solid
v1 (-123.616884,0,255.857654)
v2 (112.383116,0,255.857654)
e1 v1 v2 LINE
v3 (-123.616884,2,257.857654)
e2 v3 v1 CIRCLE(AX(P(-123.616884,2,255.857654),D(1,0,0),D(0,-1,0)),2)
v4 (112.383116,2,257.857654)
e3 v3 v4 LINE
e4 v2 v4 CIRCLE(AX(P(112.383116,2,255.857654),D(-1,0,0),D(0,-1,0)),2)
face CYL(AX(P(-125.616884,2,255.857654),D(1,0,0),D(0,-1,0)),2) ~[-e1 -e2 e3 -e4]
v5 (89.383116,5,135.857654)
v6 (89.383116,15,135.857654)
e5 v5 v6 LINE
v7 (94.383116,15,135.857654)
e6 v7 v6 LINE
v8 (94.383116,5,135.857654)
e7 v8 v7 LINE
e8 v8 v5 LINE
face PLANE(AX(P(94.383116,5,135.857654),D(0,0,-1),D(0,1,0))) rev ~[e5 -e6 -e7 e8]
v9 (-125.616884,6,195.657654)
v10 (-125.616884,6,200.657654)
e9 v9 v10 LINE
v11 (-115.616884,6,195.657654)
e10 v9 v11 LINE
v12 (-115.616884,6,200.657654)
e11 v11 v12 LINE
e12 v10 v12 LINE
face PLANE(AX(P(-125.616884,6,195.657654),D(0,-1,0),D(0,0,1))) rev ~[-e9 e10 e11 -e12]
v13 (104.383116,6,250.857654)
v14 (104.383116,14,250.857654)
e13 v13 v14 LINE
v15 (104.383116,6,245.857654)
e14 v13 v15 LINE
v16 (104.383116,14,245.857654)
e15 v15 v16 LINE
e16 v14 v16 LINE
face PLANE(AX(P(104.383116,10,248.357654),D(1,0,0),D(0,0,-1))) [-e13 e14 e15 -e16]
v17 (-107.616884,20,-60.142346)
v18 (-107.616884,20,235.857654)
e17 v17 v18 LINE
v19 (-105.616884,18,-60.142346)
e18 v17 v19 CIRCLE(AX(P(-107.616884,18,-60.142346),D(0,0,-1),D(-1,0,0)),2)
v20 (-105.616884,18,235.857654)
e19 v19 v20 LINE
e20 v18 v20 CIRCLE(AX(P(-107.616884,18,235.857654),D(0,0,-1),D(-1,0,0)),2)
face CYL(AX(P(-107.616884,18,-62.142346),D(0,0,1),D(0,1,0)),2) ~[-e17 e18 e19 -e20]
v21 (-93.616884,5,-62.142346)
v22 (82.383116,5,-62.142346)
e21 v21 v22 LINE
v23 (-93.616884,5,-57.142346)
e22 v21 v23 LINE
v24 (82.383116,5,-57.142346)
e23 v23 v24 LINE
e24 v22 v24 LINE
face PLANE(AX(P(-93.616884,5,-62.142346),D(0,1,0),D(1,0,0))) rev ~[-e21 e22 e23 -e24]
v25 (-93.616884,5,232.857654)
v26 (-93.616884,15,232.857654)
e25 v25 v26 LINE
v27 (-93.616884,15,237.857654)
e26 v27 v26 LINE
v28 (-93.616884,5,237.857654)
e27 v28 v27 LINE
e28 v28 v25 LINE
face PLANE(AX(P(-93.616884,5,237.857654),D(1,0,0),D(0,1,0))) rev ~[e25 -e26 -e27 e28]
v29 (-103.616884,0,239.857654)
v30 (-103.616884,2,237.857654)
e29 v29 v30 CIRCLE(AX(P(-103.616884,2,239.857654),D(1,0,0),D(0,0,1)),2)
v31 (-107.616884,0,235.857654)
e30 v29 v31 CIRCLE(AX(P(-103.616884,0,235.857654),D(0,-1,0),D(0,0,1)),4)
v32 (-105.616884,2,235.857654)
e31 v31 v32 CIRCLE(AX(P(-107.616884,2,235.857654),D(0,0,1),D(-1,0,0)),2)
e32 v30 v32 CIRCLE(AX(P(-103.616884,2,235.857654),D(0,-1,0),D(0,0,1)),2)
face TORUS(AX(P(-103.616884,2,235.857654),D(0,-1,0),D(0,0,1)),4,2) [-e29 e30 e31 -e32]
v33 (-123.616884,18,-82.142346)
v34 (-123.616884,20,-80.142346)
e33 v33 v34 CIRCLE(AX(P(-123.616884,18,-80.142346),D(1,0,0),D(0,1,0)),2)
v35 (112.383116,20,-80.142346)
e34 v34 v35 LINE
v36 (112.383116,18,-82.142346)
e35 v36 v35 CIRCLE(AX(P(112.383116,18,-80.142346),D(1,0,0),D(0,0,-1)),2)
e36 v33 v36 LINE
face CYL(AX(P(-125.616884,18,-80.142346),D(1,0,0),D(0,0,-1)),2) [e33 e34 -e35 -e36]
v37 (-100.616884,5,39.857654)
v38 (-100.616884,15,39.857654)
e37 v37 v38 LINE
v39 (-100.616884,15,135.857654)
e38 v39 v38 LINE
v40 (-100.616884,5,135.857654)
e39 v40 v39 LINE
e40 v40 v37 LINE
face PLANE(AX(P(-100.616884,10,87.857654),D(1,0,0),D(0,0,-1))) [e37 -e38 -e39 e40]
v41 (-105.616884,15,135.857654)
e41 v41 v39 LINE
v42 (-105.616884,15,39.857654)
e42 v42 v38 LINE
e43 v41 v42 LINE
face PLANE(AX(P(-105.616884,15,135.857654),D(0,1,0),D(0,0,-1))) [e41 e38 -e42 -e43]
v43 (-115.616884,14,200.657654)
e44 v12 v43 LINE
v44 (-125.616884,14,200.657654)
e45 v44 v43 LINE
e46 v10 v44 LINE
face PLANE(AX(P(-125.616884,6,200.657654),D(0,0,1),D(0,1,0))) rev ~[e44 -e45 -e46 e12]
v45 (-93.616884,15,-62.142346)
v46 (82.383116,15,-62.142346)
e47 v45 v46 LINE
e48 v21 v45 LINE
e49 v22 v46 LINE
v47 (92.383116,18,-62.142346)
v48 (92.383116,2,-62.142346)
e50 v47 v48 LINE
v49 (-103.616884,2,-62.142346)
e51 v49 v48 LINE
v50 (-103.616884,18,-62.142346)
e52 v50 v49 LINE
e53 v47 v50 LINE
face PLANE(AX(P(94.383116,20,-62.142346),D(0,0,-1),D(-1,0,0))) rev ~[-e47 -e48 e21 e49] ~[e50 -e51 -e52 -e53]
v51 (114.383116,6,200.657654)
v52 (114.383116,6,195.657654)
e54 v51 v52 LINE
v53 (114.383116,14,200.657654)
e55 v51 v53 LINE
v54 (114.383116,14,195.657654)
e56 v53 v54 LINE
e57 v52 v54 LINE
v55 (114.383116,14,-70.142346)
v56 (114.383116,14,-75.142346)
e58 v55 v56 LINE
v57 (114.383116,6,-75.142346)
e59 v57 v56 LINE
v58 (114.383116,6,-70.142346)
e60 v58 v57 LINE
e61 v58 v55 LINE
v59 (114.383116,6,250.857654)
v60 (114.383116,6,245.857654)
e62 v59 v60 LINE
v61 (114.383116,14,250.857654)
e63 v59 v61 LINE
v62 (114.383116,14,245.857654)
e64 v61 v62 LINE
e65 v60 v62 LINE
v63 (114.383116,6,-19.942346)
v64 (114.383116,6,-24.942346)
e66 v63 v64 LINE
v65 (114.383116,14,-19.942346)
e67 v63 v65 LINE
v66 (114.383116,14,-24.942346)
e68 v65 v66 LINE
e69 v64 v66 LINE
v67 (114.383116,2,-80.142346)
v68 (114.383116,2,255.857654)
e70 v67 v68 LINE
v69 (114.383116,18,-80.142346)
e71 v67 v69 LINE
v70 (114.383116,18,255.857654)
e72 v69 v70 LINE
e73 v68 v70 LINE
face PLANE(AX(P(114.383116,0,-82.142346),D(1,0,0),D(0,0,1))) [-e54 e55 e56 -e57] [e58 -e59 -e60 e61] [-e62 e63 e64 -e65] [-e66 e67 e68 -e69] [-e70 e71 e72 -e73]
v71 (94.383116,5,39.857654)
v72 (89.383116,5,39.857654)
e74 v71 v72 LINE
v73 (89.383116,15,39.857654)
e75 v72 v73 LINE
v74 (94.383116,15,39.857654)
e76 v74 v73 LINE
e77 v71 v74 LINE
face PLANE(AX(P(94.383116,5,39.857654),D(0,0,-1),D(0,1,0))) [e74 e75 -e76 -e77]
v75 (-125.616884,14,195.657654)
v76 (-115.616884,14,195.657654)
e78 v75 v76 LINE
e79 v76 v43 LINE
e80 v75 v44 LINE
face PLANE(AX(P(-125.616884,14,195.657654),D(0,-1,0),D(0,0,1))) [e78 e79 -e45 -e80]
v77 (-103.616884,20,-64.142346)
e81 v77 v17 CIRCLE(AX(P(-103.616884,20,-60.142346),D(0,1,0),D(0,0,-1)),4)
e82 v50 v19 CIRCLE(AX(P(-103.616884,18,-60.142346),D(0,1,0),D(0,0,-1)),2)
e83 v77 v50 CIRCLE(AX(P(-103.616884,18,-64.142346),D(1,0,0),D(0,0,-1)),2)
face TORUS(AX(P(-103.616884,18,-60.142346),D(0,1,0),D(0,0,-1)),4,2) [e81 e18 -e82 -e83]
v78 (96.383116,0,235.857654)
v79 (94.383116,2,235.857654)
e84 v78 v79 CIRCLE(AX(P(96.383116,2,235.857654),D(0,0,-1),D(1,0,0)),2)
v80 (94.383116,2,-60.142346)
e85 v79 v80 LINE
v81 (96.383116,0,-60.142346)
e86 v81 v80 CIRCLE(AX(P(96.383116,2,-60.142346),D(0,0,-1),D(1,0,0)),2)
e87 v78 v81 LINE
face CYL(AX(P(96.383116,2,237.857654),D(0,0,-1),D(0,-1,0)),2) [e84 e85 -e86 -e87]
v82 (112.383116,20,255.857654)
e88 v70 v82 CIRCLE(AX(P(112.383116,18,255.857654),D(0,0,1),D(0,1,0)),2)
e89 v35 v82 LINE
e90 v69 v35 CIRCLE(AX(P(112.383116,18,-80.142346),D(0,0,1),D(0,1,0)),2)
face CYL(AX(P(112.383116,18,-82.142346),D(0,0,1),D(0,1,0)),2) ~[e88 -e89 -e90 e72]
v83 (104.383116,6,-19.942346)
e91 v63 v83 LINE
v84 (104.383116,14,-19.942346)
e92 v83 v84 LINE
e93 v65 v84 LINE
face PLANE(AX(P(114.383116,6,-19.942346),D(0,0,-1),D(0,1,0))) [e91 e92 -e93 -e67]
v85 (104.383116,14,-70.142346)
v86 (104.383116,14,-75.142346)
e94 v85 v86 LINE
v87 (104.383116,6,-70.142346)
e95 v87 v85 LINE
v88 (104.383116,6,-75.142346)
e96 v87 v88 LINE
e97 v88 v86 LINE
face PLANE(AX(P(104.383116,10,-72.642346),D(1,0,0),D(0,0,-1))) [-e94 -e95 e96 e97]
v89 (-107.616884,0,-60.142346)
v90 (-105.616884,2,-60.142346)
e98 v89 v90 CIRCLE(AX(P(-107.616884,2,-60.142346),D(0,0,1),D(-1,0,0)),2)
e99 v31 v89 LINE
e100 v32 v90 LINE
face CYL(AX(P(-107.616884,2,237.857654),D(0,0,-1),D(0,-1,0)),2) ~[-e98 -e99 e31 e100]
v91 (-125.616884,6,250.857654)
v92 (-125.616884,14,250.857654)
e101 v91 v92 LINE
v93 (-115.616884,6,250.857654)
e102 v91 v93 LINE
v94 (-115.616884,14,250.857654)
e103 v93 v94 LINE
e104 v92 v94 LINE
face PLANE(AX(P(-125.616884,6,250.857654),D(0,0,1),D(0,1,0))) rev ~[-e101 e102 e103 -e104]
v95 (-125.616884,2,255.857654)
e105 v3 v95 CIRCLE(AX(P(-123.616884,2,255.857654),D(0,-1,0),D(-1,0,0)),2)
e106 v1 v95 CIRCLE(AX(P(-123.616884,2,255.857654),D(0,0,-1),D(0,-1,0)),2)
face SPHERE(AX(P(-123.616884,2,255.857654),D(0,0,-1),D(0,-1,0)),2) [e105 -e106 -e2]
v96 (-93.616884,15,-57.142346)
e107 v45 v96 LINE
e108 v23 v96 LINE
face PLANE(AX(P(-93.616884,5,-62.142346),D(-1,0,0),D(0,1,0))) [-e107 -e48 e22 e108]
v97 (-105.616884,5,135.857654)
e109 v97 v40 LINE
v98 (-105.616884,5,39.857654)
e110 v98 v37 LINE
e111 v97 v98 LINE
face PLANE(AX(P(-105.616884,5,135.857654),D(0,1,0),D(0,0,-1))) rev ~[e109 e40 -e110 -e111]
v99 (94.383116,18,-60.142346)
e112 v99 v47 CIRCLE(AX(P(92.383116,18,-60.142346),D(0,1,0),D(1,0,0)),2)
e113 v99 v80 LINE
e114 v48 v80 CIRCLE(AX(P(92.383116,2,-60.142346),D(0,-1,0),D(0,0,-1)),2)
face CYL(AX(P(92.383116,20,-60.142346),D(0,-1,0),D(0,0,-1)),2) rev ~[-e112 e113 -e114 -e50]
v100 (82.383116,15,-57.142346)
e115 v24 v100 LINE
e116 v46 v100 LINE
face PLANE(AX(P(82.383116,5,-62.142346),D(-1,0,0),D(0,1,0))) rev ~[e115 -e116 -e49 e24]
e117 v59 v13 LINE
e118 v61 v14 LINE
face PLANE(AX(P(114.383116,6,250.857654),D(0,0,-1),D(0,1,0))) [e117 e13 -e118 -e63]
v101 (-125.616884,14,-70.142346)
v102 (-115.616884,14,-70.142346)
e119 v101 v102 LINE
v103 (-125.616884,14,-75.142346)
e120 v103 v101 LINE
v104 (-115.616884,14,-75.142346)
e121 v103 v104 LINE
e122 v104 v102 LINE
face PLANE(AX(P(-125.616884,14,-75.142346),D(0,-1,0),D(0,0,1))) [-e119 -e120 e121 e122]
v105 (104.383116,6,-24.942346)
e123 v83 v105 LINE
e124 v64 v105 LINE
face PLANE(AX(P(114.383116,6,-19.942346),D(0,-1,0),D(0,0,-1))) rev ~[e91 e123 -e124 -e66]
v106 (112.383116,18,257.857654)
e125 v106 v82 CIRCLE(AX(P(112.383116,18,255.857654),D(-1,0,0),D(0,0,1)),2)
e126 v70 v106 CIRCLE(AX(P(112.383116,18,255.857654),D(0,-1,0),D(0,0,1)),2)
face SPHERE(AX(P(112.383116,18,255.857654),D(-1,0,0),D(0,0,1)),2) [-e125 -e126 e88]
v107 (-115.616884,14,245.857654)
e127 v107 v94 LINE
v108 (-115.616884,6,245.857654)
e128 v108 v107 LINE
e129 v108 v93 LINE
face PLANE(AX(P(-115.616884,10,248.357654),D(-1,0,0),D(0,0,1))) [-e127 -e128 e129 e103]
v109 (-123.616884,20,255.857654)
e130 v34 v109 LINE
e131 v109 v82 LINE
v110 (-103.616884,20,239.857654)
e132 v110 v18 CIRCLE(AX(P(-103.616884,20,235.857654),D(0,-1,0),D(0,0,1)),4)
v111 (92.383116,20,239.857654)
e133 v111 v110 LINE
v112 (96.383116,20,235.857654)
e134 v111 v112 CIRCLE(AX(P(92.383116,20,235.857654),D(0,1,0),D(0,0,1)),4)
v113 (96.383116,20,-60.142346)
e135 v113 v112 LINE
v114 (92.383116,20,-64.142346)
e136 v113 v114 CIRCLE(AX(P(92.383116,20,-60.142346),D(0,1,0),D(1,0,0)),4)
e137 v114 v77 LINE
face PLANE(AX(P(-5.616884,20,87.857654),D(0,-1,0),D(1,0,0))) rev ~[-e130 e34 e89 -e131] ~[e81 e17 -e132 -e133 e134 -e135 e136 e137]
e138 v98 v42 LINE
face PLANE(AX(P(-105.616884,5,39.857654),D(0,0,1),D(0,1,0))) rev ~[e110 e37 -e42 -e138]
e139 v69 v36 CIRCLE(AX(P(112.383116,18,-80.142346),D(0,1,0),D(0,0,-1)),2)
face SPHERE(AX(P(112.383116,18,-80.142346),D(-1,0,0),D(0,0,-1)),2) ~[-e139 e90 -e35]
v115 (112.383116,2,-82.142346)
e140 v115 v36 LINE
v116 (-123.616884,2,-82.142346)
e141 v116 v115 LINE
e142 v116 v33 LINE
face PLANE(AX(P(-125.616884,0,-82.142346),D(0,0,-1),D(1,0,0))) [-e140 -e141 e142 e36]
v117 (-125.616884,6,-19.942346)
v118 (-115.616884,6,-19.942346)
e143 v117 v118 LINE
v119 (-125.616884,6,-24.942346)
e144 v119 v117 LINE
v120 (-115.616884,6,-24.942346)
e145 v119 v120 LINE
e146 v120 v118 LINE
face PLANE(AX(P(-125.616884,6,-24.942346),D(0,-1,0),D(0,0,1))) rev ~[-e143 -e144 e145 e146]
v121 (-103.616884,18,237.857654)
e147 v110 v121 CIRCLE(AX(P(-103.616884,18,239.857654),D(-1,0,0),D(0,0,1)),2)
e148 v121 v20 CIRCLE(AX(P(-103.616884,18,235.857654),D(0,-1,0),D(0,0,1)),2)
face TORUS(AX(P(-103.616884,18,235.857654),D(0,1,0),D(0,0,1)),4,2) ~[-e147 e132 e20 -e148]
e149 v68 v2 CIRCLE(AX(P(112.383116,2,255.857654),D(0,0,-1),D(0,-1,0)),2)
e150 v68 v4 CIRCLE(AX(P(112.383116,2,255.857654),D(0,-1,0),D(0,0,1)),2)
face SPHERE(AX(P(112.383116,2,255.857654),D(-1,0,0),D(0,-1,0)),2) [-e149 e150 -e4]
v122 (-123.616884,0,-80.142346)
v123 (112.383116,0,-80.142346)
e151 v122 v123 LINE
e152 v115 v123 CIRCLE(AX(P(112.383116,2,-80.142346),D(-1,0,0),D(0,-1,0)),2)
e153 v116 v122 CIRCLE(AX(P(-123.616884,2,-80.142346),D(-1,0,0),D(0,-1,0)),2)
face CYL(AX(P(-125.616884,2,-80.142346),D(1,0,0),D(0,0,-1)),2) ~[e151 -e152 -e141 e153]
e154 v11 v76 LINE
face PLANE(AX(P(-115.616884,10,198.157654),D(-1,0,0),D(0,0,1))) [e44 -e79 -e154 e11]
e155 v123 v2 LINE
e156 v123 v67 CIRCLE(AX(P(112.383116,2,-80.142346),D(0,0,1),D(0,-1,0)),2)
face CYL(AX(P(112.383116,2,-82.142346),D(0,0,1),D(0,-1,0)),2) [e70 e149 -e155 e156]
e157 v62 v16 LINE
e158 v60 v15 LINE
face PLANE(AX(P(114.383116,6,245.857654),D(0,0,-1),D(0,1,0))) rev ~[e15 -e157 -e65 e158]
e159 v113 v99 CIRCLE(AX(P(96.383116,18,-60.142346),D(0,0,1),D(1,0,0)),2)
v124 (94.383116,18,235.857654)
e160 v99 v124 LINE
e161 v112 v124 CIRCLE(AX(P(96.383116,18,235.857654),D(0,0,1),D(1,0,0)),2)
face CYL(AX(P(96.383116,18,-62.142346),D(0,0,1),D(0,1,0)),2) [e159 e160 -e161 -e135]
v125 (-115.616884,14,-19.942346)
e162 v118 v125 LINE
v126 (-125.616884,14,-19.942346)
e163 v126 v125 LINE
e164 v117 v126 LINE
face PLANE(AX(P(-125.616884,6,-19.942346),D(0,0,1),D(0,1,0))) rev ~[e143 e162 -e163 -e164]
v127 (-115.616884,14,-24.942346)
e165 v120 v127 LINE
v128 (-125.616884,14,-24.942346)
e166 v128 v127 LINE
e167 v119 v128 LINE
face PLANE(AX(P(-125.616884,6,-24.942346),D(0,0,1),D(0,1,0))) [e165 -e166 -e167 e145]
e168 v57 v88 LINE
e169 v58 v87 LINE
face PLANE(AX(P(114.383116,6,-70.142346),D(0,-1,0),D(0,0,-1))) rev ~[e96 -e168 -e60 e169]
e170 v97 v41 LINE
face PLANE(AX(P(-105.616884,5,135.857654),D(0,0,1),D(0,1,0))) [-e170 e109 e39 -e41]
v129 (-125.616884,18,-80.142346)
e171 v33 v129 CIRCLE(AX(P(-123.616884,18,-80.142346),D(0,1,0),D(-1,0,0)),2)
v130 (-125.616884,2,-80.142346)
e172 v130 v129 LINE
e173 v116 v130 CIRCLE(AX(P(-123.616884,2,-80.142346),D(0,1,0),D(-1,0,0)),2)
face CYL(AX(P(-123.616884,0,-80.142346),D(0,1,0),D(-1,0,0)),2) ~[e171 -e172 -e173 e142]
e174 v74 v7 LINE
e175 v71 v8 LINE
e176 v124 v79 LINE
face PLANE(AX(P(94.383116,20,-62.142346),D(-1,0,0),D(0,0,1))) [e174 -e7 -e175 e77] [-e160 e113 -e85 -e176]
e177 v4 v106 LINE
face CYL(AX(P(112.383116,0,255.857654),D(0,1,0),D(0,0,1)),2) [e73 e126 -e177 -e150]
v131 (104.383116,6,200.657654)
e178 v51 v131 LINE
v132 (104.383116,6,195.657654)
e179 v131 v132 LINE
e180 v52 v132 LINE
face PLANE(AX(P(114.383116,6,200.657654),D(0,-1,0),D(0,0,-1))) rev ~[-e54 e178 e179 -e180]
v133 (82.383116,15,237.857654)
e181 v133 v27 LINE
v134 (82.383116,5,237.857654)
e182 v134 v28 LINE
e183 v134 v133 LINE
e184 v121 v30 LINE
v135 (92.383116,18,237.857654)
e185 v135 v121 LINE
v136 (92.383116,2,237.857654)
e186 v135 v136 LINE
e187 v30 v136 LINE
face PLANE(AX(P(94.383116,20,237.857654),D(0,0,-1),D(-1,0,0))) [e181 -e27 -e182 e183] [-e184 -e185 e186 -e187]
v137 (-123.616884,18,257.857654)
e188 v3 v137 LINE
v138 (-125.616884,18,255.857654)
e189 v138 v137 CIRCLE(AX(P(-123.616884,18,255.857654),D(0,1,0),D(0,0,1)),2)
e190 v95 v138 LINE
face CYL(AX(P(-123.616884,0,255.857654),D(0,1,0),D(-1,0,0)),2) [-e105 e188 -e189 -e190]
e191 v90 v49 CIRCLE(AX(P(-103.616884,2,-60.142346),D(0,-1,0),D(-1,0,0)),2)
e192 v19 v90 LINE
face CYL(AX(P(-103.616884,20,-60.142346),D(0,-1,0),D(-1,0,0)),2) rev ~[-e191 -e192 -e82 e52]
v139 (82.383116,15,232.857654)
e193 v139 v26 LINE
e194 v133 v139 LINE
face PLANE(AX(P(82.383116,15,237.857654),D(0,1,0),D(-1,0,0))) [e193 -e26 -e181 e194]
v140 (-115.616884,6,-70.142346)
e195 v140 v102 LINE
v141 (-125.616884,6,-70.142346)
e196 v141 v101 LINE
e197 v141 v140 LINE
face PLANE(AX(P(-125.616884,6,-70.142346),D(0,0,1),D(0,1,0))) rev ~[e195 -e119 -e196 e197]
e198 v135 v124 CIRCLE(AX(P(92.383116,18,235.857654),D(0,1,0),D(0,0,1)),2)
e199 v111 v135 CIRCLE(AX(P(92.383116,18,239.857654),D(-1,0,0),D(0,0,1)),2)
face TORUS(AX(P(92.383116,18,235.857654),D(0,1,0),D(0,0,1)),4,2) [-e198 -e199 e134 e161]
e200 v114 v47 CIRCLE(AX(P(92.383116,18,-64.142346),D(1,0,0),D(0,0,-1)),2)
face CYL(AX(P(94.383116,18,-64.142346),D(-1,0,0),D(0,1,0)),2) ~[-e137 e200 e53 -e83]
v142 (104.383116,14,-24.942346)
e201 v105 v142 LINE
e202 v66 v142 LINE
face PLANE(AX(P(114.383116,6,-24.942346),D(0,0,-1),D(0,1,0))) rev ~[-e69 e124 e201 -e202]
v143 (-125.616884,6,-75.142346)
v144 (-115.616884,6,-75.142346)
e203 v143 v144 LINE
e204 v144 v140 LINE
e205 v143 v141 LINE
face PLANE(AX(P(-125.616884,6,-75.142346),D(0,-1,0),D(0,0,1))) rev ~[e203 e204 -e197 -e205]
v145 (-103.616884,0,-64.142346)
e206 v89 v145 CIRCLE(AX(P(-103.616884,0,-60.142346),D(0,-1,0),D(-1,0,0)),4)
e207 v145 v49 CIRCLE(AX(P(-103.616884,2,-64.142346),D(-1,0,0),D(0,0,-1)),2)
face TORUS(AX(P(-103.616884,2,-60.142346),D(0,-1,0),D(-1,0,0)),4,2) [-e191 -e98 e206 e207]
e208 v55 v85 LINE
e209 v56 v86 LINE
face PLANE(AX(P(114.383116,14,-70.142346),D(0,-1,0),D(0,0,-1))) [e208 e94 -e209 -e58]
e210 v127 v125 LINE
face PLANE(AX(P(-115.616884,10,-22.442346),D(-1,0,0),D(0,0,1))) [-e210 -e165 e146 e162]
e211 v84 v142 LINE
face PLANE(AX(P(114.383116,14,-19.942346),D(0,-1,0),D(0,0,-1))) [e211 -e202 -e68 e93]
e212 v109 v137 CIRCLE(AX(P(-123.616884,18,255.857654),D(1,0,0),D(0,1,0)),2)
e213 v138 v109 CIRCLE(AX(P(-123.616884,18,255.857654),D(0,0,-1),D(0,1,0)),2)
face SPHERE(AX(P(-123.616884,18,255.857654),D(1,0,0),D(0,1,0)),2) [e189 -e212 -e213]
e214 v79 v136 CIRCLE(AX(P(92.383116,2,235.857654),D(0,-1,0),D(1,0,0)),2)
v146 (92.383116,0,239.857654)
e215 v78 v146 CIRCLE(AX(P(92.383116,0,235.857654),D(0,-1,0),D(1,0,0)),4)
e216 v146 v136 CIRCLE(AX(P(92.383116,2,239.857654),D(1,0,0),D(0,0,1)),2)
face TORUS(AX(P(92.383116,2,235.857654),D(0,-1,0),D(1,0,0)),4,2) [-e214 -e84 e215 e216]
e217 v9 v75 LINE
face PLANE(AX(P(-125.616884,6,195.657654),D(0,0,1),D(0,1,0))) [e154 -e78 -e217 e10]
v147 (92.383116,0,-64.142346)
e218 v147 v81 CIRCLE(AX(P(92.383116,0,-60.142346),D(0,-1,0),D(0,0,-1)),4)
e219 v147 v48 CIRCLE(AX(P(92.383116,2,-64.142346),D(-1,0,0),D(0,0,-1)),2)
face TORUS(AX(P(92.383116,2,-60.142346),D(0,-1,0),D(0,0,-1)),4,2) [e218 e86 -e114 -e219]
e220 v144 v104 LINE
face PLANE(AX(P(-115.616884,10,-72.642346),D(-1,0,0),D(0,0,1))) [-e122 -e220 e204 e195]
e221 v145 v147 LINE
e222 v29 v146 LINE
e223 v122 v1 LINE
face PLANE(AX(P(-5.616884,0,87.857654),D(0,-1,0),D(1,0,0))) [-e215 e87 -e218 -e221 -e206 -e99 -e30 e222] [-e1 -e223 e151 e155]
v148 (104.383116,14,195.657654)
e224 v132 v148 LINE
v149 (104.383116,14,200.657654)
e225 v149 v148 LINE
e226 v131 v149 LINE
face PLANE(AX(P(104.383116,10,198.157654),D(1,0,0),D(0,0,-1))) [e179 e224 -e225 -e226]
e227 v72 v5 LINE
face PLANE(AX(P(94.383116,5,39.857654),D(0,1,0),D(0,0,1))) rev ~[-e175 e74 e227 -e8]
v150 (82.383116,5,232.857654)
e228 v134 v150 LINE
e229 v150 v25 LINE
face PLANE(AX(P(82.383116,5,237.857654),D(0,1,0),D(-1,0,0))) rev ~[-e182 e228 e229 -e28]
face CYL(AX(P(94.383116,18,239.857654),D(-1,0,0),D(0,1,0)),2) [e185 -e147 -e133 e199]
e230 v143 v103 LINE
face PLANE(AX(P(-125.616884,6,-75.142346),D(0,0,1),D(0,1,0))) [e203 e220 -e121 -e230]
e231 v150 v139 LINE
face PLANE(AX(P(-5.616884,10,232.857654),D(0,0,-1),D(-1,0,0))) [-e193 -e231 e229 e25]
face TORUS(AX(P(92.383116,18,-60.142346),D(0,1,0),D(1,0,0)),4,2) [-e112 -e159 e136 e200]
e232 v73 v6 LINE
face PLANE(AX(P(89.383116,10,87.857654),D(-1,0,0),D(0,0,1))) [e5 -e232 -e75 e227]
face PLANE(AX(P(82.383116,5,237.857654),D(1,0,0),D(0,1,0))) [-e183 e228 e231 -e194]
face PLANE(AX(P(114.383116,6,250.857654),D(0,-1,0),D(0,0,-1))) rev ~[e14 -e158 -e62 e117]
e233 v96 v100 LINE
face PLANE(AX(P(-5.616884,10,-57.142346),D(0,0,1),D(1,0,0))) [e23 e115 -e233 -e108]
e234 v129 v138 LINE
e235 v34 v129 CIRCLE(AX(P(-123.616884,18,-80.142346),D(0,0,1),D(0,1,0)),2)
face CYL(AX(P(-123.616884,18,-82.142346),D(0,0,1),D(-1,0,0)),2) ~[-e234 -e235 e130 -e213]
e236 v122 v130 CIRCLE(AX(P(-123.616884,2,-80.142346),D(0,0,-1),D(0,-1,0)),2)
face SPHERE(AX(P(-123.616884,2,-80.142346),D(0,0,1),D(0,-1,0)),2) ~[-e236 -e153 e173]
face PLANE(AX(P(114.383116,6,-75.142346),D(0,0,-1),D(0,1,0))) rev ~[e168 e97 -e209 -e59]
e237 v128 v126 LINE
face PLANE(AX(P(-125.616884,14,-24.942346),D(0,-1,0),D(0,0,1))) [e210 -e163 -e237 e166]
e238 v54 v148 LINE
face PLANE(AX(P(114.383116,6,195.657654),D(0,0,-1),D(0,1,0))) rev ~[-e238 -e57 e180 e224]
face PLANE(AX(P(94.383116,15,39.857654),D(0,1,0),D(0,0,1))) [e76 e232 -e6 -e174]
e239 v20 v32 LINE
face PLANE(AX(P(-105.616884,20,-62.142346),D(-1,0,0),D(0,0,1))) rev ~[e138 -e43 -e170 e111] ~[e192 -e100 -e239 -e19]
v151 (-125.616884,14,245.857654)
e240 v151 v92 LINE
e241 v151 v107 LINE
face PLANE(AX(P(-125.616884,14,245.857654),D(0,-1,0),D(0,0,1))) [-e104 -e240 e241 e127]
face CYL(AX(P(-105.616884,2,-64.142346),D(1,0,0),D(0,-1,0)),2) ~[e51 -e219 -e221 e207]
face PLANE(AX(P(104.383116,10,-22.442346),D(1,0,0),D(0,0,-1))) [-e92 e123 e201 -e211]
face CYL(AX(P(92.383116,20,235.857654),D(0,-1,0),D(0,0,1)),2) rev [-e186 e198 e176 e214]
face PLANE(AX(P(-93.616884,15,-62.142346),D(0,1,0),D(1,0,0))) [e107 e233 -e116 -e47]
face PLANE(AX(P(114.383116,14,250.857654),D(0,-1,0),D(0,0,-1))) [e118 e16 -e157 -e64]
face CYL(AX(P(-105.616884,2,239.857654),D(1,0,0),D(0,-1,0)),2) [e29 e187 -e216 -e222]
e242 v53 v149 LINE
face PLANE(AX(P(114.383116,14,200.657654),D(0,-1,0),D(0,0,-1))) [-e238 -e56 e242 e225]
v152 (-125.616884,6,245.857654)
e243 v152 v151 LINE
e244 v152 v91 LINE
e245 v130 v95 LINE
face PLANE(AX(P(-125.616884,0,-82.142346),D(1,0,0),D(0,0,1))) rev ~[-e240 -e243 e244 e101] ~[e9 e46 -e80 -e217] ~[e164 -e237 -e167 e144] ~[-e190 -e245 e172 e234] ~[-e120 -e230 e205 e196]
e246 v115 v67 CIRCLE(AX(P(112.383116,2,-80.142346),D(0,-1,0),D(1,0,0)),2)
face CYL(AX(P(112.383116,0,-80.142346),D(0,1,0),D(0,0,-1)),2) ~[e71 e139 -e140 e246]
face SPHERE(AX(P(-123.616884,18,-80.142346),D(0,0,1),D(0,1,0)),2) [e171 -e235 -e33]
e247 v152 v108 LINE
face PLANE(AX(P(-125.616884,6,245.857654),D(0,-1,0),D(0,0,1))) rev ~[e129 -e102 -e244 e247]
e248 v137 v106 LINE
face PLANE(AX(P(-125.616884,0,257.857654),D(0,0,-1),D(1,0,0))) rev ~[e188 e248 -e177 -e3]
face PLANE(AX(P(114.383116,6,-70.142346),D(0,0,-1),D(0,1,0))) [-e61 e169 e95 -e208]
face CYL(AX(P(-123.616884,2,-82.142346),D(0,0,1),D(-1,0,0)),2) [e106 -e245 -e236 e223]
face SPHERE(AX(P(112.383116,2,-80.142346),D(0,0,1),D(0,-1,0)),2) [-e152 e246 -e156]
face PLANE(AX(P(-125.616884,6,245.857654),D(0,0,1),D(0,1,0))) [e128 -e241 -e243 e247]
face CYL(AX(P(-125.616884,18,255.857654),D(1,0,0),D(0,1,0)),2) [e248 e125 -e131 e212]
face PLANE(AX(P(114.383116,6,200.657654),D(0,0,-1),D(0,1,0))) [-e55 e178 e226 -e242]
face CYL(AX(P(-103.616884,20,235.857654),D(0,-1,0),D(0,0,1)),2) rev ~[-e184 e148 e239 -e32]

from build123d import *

# Parameters (mm, degrees)
SKETCH1_W           = 240
SKETCH1_H           = 340
BOSS_EXTRUDE1_DEPTH = 20
SKETCH2_W           = 200
SKETCH2_H           = 300
CUT_EXTRUDE1_DEPTH  = 288.524209706
SKETCH3_W           = 96
SKETCH3_H           = 10
BOSS_EXTRUDE2_DEPTH = 5
SKETCH4_W           = 96
SKETCH4_H           = 10
BOSS_EXTRUDE3_DEPTH = 5
SKETCH5_W           = 176
SKETCH5_H           = 10
BOSS_EXTRUDE4_DEPTH = 5
SKETCH6_W           = 176
SKETCH6_H           = 10
BOSS_EXTRUDE5_DEPTH = 5
SKETCH7_W           = 5
SKETCH7_H           = 8
CUT_EXTRUDE2_DEPTH  = 10
SKETCH8_W           = 5
SKETCH8_H           = 8
CUT_EXTRUDE3_DEPTH  = 10
SKETCH9_W           = 5
SKETCH9_H           = 8
CUT_EXTRUDE4_DEPTH  = 10
SKETCH10_W          = 5
SKETCH10_H          = 8
CUT_EXTRUDE5_DEPTH  = 10
SKETCH11_W          = 5
SKETCH11_H          = 8
CUT_EXTRUDE6_DEPTH  = 10
SKETCH12_W          = 5
SKETCH12_H          = 8
CUT_EXTRUDE7_DEPTH  = 10
SKETCH13_W          = 5
SKETCH13_H          = 8
CUT_EXTRUDE8_DEPTH  = 10
SKETCH14_W          = 5
SKETCH14_H          = 8
CUT_EXTRUDE9_DEPTH  = 10
FILLET1_R           = 2


with BuildPart() as part:
    # Sketch1 → Boss-Extrude1 (new body)
    with BuildSketch(Plane.XZ):
        with Locations((-5.61688401, 87.857653791)):
            Rectangle(SKETCH1_W, SKETCH1_H)
    extrude(amount=-BOSS_EXTRUDE1_DEPTH)

    # Sketch2 → Cut-Extrude1 (cut, through all)
    with BuildSketch(Plane(origin=(0, 20, 0), x_dir=(-1, 0, 0), z_dir=(0, 1, 0))):
        with Locations((5.61688401, 87.857653791)):
            Rectangle(SKETCH2_W, SKETCH2_H)
    extrude(amount=-CUT_EXTRUDE1_DEPTH, mode=Mode.SUBTRACT)

    # Sketch3 → Boss-Extrude2 (add)
    with BuildSketch(Plane(origin=(-105.61688401, 0, 0), x_dir=(0, 0, -1), z_dir=(1, 0, 0))):
        with Locations((-87.857653791, 10)):
            Rectangle(SKETCH3_W, SKETCH3_H)
    extrude(amount=BOSS_EXTRUDE2_DEPTH)

    # Sketch4 → Boss-Extrude3 (add)
    with BuildSketch(Plane.ZY.offset(-94.38311599)):
        with Locations((87.857653791, 10)):
            Rectangle(SKETCH4_W, SKETCH4_H)
    extrude(amount=BOSS_EXTRUDE3_DEPTH)

    # Sketch5 → Boss-Extrude4 (add)
    with BuildSketch(Plane(origin=(0, 0, 237.857653791), x_dir=(-1, 0, 0), z_dir=(0, 0, -1))):
        with Locations((5.61688401, 10)):
            Rectangle(SKETCH5_W, SKETCH5_H)
    extrude(amount=BOSS_EXTRUDE4_DEPTH)

    # Sketch6 → Boss-Extrude5 (add)
    with BuildSketch(Plane.XY.offset(-62.142346209)):
        with Locations((-5.61688401, 10)):
            Rectangle(SKETCH6_W, SKETCH6_H)
    extrude(amount=BOSS_EXTRUDE5_DEPTH)

    # Sketch7 → Cut-Extrude2 (cut)
    with BuildSketch(Plane(origin=(114.38311599, 0, 0), x_dir=(0, 0, -1), z_dir=(1, 0, 0))):
        with Locations((-248.357653791, 10)):
            Rectangle(SKETCH7_W, SKETCH7_H)
    extrude(amount=-CUT_EXTRUDE2_DEPTH, mode=Mode.SUBTRACT)

    # Sketch8 → Cut-Extrude3 (cut)
    with BuildSketch(Plane(origin=(114.38311599, 0, 0), x_dir=(0, 0, -1), z_dir=(1, 0, 0))):
        with Locations((-198.157653791, 10)):
            Rectangle(SKETCH8_W, SKETCH8_H)
    extrude(amount=-CUT_EXTRUDE3_DEPTH, mode=Mode.SUBTRACT)

    # Sketch9 → Cut-Extrude4 (cut)
    with BuildSketch(Plane(origin=(114.38311599, 0, 0), x_dir=(0, 0, -1), z_dir=(1, 0, 0))):
        with Locations((22.442346209, 10)):
            Rectangle(SKETCH9_W, SKETCH9_H)
    extrude(amount=-CUT_EXTRUDE4_DEPTH, mode=Mode.SUBTRACT)

    # Sketch10 → Cut-Extrude5 (cut)
    with BuildSketch(Plane(origin=(114.38311599, 0, 0), x_dir=(0, 0, -1), z_dir=(1, 0, 0))):
        with Locations((72.642346209, 10)):
            Rectangle(SKETCH10_W, SKETCH10_H)
    extrude(amount=-CUT_EXTRUDE5_DEPTH, mode=Mode.SUBTRACT)

    # Sketch11 → Cut-Extrude6 (cut)
    with BuildSketch(Plane.ZY.offset(125.61688401)):
        with Locations((248.357653791, 10)):
            Rectangle(SKETCH11_W, SKETCH11_H)
    extrude(amount=-CUT_EXTRUDE6_DEPTH, mode=Mode.SUBTRACT)

    # Sketch12 → Cut-Extrude7 (cut)
    with BuildSketch(Plane.ZY.offset(125.61688401)):
        with Locations((198.157653791, 10)):
            Rectangle(SKETCH12_W, SKETCH12_H)
    extrude(amount=-CUT_EXTRUDE7_DEPTH, mode=Mode.SUBTRACT)

    # Sketch13 → Cut-Extrude8 (cut)
    with BuildSketch(Plane.ZY.offset(125.61688401)):
        with Locations((-22.442346209, 10)):
            Rectangle(SKETCH13_W, SKETCH13_H)
    extrude(amount=-CUT_EXTRUDE8_DEPTH, mode=Mode.SUBTRACT)

    # Sketch14 → Cut-Extrude9 (cut)
    with BuildSketch(Plane.ZY.offset(125.61688401)):
        with Locations((-72.642346209, 10)):
            Rectangle(SKETCH14_W, SKETCH14_H)
    extrude(amount=-CUT_EXTRUDE9_DEPTH, mode=Mode.SUBTRACT)

    # Fillet1
    fillet1_edges = [part.edges().sort_by_distance(p)[0] for p in [
        (-5.61688401, 20, 257.857653791),
        (-125.61688401, 20, 87.857653791),
        (-5.61688401, 0, 237.857653791),
        (94.38311599, 10, 237.857653791),
        (-105.61688401, 0, 87.857653791),
        (-105.61688401, 10, 237.857653791),
        (-5.61688401, 0, -62.142346209),
        (-105.61688401, 10, -62.142346209),
        (94.38311599, 0, 87.857653791),
        (94.38311599, 10, -62.142346209),
        (-5.61688401, 20, 237.857653791),
        (94.38311599, 20, 87.857653791),
        (-5.61688401, 20, -62.142346209),
        (-105.61688401, 20, 87.857653791),
        (-5.61688401, 20, -82.142346209),
        (-125.61688401, 0, 87.857653791),
        (-5.61688401, 0, 257.857653791),
        (114.38311599, 0, 87.857653791),
        (-5.61688401, 0, -82.142346209),
        (-125.61688401, 10, -82.142346209),
        (-125.61688401, 10, 257.857653791),
        (114.38311599, 10, 257.857653791),
        (114.38311599, 10, -82.142346209),
        (114.38311599, 20, 87.857653791),
    ]]
    fillet(fillet1_edges, radius=FILLET1_R)


solid = part.part
